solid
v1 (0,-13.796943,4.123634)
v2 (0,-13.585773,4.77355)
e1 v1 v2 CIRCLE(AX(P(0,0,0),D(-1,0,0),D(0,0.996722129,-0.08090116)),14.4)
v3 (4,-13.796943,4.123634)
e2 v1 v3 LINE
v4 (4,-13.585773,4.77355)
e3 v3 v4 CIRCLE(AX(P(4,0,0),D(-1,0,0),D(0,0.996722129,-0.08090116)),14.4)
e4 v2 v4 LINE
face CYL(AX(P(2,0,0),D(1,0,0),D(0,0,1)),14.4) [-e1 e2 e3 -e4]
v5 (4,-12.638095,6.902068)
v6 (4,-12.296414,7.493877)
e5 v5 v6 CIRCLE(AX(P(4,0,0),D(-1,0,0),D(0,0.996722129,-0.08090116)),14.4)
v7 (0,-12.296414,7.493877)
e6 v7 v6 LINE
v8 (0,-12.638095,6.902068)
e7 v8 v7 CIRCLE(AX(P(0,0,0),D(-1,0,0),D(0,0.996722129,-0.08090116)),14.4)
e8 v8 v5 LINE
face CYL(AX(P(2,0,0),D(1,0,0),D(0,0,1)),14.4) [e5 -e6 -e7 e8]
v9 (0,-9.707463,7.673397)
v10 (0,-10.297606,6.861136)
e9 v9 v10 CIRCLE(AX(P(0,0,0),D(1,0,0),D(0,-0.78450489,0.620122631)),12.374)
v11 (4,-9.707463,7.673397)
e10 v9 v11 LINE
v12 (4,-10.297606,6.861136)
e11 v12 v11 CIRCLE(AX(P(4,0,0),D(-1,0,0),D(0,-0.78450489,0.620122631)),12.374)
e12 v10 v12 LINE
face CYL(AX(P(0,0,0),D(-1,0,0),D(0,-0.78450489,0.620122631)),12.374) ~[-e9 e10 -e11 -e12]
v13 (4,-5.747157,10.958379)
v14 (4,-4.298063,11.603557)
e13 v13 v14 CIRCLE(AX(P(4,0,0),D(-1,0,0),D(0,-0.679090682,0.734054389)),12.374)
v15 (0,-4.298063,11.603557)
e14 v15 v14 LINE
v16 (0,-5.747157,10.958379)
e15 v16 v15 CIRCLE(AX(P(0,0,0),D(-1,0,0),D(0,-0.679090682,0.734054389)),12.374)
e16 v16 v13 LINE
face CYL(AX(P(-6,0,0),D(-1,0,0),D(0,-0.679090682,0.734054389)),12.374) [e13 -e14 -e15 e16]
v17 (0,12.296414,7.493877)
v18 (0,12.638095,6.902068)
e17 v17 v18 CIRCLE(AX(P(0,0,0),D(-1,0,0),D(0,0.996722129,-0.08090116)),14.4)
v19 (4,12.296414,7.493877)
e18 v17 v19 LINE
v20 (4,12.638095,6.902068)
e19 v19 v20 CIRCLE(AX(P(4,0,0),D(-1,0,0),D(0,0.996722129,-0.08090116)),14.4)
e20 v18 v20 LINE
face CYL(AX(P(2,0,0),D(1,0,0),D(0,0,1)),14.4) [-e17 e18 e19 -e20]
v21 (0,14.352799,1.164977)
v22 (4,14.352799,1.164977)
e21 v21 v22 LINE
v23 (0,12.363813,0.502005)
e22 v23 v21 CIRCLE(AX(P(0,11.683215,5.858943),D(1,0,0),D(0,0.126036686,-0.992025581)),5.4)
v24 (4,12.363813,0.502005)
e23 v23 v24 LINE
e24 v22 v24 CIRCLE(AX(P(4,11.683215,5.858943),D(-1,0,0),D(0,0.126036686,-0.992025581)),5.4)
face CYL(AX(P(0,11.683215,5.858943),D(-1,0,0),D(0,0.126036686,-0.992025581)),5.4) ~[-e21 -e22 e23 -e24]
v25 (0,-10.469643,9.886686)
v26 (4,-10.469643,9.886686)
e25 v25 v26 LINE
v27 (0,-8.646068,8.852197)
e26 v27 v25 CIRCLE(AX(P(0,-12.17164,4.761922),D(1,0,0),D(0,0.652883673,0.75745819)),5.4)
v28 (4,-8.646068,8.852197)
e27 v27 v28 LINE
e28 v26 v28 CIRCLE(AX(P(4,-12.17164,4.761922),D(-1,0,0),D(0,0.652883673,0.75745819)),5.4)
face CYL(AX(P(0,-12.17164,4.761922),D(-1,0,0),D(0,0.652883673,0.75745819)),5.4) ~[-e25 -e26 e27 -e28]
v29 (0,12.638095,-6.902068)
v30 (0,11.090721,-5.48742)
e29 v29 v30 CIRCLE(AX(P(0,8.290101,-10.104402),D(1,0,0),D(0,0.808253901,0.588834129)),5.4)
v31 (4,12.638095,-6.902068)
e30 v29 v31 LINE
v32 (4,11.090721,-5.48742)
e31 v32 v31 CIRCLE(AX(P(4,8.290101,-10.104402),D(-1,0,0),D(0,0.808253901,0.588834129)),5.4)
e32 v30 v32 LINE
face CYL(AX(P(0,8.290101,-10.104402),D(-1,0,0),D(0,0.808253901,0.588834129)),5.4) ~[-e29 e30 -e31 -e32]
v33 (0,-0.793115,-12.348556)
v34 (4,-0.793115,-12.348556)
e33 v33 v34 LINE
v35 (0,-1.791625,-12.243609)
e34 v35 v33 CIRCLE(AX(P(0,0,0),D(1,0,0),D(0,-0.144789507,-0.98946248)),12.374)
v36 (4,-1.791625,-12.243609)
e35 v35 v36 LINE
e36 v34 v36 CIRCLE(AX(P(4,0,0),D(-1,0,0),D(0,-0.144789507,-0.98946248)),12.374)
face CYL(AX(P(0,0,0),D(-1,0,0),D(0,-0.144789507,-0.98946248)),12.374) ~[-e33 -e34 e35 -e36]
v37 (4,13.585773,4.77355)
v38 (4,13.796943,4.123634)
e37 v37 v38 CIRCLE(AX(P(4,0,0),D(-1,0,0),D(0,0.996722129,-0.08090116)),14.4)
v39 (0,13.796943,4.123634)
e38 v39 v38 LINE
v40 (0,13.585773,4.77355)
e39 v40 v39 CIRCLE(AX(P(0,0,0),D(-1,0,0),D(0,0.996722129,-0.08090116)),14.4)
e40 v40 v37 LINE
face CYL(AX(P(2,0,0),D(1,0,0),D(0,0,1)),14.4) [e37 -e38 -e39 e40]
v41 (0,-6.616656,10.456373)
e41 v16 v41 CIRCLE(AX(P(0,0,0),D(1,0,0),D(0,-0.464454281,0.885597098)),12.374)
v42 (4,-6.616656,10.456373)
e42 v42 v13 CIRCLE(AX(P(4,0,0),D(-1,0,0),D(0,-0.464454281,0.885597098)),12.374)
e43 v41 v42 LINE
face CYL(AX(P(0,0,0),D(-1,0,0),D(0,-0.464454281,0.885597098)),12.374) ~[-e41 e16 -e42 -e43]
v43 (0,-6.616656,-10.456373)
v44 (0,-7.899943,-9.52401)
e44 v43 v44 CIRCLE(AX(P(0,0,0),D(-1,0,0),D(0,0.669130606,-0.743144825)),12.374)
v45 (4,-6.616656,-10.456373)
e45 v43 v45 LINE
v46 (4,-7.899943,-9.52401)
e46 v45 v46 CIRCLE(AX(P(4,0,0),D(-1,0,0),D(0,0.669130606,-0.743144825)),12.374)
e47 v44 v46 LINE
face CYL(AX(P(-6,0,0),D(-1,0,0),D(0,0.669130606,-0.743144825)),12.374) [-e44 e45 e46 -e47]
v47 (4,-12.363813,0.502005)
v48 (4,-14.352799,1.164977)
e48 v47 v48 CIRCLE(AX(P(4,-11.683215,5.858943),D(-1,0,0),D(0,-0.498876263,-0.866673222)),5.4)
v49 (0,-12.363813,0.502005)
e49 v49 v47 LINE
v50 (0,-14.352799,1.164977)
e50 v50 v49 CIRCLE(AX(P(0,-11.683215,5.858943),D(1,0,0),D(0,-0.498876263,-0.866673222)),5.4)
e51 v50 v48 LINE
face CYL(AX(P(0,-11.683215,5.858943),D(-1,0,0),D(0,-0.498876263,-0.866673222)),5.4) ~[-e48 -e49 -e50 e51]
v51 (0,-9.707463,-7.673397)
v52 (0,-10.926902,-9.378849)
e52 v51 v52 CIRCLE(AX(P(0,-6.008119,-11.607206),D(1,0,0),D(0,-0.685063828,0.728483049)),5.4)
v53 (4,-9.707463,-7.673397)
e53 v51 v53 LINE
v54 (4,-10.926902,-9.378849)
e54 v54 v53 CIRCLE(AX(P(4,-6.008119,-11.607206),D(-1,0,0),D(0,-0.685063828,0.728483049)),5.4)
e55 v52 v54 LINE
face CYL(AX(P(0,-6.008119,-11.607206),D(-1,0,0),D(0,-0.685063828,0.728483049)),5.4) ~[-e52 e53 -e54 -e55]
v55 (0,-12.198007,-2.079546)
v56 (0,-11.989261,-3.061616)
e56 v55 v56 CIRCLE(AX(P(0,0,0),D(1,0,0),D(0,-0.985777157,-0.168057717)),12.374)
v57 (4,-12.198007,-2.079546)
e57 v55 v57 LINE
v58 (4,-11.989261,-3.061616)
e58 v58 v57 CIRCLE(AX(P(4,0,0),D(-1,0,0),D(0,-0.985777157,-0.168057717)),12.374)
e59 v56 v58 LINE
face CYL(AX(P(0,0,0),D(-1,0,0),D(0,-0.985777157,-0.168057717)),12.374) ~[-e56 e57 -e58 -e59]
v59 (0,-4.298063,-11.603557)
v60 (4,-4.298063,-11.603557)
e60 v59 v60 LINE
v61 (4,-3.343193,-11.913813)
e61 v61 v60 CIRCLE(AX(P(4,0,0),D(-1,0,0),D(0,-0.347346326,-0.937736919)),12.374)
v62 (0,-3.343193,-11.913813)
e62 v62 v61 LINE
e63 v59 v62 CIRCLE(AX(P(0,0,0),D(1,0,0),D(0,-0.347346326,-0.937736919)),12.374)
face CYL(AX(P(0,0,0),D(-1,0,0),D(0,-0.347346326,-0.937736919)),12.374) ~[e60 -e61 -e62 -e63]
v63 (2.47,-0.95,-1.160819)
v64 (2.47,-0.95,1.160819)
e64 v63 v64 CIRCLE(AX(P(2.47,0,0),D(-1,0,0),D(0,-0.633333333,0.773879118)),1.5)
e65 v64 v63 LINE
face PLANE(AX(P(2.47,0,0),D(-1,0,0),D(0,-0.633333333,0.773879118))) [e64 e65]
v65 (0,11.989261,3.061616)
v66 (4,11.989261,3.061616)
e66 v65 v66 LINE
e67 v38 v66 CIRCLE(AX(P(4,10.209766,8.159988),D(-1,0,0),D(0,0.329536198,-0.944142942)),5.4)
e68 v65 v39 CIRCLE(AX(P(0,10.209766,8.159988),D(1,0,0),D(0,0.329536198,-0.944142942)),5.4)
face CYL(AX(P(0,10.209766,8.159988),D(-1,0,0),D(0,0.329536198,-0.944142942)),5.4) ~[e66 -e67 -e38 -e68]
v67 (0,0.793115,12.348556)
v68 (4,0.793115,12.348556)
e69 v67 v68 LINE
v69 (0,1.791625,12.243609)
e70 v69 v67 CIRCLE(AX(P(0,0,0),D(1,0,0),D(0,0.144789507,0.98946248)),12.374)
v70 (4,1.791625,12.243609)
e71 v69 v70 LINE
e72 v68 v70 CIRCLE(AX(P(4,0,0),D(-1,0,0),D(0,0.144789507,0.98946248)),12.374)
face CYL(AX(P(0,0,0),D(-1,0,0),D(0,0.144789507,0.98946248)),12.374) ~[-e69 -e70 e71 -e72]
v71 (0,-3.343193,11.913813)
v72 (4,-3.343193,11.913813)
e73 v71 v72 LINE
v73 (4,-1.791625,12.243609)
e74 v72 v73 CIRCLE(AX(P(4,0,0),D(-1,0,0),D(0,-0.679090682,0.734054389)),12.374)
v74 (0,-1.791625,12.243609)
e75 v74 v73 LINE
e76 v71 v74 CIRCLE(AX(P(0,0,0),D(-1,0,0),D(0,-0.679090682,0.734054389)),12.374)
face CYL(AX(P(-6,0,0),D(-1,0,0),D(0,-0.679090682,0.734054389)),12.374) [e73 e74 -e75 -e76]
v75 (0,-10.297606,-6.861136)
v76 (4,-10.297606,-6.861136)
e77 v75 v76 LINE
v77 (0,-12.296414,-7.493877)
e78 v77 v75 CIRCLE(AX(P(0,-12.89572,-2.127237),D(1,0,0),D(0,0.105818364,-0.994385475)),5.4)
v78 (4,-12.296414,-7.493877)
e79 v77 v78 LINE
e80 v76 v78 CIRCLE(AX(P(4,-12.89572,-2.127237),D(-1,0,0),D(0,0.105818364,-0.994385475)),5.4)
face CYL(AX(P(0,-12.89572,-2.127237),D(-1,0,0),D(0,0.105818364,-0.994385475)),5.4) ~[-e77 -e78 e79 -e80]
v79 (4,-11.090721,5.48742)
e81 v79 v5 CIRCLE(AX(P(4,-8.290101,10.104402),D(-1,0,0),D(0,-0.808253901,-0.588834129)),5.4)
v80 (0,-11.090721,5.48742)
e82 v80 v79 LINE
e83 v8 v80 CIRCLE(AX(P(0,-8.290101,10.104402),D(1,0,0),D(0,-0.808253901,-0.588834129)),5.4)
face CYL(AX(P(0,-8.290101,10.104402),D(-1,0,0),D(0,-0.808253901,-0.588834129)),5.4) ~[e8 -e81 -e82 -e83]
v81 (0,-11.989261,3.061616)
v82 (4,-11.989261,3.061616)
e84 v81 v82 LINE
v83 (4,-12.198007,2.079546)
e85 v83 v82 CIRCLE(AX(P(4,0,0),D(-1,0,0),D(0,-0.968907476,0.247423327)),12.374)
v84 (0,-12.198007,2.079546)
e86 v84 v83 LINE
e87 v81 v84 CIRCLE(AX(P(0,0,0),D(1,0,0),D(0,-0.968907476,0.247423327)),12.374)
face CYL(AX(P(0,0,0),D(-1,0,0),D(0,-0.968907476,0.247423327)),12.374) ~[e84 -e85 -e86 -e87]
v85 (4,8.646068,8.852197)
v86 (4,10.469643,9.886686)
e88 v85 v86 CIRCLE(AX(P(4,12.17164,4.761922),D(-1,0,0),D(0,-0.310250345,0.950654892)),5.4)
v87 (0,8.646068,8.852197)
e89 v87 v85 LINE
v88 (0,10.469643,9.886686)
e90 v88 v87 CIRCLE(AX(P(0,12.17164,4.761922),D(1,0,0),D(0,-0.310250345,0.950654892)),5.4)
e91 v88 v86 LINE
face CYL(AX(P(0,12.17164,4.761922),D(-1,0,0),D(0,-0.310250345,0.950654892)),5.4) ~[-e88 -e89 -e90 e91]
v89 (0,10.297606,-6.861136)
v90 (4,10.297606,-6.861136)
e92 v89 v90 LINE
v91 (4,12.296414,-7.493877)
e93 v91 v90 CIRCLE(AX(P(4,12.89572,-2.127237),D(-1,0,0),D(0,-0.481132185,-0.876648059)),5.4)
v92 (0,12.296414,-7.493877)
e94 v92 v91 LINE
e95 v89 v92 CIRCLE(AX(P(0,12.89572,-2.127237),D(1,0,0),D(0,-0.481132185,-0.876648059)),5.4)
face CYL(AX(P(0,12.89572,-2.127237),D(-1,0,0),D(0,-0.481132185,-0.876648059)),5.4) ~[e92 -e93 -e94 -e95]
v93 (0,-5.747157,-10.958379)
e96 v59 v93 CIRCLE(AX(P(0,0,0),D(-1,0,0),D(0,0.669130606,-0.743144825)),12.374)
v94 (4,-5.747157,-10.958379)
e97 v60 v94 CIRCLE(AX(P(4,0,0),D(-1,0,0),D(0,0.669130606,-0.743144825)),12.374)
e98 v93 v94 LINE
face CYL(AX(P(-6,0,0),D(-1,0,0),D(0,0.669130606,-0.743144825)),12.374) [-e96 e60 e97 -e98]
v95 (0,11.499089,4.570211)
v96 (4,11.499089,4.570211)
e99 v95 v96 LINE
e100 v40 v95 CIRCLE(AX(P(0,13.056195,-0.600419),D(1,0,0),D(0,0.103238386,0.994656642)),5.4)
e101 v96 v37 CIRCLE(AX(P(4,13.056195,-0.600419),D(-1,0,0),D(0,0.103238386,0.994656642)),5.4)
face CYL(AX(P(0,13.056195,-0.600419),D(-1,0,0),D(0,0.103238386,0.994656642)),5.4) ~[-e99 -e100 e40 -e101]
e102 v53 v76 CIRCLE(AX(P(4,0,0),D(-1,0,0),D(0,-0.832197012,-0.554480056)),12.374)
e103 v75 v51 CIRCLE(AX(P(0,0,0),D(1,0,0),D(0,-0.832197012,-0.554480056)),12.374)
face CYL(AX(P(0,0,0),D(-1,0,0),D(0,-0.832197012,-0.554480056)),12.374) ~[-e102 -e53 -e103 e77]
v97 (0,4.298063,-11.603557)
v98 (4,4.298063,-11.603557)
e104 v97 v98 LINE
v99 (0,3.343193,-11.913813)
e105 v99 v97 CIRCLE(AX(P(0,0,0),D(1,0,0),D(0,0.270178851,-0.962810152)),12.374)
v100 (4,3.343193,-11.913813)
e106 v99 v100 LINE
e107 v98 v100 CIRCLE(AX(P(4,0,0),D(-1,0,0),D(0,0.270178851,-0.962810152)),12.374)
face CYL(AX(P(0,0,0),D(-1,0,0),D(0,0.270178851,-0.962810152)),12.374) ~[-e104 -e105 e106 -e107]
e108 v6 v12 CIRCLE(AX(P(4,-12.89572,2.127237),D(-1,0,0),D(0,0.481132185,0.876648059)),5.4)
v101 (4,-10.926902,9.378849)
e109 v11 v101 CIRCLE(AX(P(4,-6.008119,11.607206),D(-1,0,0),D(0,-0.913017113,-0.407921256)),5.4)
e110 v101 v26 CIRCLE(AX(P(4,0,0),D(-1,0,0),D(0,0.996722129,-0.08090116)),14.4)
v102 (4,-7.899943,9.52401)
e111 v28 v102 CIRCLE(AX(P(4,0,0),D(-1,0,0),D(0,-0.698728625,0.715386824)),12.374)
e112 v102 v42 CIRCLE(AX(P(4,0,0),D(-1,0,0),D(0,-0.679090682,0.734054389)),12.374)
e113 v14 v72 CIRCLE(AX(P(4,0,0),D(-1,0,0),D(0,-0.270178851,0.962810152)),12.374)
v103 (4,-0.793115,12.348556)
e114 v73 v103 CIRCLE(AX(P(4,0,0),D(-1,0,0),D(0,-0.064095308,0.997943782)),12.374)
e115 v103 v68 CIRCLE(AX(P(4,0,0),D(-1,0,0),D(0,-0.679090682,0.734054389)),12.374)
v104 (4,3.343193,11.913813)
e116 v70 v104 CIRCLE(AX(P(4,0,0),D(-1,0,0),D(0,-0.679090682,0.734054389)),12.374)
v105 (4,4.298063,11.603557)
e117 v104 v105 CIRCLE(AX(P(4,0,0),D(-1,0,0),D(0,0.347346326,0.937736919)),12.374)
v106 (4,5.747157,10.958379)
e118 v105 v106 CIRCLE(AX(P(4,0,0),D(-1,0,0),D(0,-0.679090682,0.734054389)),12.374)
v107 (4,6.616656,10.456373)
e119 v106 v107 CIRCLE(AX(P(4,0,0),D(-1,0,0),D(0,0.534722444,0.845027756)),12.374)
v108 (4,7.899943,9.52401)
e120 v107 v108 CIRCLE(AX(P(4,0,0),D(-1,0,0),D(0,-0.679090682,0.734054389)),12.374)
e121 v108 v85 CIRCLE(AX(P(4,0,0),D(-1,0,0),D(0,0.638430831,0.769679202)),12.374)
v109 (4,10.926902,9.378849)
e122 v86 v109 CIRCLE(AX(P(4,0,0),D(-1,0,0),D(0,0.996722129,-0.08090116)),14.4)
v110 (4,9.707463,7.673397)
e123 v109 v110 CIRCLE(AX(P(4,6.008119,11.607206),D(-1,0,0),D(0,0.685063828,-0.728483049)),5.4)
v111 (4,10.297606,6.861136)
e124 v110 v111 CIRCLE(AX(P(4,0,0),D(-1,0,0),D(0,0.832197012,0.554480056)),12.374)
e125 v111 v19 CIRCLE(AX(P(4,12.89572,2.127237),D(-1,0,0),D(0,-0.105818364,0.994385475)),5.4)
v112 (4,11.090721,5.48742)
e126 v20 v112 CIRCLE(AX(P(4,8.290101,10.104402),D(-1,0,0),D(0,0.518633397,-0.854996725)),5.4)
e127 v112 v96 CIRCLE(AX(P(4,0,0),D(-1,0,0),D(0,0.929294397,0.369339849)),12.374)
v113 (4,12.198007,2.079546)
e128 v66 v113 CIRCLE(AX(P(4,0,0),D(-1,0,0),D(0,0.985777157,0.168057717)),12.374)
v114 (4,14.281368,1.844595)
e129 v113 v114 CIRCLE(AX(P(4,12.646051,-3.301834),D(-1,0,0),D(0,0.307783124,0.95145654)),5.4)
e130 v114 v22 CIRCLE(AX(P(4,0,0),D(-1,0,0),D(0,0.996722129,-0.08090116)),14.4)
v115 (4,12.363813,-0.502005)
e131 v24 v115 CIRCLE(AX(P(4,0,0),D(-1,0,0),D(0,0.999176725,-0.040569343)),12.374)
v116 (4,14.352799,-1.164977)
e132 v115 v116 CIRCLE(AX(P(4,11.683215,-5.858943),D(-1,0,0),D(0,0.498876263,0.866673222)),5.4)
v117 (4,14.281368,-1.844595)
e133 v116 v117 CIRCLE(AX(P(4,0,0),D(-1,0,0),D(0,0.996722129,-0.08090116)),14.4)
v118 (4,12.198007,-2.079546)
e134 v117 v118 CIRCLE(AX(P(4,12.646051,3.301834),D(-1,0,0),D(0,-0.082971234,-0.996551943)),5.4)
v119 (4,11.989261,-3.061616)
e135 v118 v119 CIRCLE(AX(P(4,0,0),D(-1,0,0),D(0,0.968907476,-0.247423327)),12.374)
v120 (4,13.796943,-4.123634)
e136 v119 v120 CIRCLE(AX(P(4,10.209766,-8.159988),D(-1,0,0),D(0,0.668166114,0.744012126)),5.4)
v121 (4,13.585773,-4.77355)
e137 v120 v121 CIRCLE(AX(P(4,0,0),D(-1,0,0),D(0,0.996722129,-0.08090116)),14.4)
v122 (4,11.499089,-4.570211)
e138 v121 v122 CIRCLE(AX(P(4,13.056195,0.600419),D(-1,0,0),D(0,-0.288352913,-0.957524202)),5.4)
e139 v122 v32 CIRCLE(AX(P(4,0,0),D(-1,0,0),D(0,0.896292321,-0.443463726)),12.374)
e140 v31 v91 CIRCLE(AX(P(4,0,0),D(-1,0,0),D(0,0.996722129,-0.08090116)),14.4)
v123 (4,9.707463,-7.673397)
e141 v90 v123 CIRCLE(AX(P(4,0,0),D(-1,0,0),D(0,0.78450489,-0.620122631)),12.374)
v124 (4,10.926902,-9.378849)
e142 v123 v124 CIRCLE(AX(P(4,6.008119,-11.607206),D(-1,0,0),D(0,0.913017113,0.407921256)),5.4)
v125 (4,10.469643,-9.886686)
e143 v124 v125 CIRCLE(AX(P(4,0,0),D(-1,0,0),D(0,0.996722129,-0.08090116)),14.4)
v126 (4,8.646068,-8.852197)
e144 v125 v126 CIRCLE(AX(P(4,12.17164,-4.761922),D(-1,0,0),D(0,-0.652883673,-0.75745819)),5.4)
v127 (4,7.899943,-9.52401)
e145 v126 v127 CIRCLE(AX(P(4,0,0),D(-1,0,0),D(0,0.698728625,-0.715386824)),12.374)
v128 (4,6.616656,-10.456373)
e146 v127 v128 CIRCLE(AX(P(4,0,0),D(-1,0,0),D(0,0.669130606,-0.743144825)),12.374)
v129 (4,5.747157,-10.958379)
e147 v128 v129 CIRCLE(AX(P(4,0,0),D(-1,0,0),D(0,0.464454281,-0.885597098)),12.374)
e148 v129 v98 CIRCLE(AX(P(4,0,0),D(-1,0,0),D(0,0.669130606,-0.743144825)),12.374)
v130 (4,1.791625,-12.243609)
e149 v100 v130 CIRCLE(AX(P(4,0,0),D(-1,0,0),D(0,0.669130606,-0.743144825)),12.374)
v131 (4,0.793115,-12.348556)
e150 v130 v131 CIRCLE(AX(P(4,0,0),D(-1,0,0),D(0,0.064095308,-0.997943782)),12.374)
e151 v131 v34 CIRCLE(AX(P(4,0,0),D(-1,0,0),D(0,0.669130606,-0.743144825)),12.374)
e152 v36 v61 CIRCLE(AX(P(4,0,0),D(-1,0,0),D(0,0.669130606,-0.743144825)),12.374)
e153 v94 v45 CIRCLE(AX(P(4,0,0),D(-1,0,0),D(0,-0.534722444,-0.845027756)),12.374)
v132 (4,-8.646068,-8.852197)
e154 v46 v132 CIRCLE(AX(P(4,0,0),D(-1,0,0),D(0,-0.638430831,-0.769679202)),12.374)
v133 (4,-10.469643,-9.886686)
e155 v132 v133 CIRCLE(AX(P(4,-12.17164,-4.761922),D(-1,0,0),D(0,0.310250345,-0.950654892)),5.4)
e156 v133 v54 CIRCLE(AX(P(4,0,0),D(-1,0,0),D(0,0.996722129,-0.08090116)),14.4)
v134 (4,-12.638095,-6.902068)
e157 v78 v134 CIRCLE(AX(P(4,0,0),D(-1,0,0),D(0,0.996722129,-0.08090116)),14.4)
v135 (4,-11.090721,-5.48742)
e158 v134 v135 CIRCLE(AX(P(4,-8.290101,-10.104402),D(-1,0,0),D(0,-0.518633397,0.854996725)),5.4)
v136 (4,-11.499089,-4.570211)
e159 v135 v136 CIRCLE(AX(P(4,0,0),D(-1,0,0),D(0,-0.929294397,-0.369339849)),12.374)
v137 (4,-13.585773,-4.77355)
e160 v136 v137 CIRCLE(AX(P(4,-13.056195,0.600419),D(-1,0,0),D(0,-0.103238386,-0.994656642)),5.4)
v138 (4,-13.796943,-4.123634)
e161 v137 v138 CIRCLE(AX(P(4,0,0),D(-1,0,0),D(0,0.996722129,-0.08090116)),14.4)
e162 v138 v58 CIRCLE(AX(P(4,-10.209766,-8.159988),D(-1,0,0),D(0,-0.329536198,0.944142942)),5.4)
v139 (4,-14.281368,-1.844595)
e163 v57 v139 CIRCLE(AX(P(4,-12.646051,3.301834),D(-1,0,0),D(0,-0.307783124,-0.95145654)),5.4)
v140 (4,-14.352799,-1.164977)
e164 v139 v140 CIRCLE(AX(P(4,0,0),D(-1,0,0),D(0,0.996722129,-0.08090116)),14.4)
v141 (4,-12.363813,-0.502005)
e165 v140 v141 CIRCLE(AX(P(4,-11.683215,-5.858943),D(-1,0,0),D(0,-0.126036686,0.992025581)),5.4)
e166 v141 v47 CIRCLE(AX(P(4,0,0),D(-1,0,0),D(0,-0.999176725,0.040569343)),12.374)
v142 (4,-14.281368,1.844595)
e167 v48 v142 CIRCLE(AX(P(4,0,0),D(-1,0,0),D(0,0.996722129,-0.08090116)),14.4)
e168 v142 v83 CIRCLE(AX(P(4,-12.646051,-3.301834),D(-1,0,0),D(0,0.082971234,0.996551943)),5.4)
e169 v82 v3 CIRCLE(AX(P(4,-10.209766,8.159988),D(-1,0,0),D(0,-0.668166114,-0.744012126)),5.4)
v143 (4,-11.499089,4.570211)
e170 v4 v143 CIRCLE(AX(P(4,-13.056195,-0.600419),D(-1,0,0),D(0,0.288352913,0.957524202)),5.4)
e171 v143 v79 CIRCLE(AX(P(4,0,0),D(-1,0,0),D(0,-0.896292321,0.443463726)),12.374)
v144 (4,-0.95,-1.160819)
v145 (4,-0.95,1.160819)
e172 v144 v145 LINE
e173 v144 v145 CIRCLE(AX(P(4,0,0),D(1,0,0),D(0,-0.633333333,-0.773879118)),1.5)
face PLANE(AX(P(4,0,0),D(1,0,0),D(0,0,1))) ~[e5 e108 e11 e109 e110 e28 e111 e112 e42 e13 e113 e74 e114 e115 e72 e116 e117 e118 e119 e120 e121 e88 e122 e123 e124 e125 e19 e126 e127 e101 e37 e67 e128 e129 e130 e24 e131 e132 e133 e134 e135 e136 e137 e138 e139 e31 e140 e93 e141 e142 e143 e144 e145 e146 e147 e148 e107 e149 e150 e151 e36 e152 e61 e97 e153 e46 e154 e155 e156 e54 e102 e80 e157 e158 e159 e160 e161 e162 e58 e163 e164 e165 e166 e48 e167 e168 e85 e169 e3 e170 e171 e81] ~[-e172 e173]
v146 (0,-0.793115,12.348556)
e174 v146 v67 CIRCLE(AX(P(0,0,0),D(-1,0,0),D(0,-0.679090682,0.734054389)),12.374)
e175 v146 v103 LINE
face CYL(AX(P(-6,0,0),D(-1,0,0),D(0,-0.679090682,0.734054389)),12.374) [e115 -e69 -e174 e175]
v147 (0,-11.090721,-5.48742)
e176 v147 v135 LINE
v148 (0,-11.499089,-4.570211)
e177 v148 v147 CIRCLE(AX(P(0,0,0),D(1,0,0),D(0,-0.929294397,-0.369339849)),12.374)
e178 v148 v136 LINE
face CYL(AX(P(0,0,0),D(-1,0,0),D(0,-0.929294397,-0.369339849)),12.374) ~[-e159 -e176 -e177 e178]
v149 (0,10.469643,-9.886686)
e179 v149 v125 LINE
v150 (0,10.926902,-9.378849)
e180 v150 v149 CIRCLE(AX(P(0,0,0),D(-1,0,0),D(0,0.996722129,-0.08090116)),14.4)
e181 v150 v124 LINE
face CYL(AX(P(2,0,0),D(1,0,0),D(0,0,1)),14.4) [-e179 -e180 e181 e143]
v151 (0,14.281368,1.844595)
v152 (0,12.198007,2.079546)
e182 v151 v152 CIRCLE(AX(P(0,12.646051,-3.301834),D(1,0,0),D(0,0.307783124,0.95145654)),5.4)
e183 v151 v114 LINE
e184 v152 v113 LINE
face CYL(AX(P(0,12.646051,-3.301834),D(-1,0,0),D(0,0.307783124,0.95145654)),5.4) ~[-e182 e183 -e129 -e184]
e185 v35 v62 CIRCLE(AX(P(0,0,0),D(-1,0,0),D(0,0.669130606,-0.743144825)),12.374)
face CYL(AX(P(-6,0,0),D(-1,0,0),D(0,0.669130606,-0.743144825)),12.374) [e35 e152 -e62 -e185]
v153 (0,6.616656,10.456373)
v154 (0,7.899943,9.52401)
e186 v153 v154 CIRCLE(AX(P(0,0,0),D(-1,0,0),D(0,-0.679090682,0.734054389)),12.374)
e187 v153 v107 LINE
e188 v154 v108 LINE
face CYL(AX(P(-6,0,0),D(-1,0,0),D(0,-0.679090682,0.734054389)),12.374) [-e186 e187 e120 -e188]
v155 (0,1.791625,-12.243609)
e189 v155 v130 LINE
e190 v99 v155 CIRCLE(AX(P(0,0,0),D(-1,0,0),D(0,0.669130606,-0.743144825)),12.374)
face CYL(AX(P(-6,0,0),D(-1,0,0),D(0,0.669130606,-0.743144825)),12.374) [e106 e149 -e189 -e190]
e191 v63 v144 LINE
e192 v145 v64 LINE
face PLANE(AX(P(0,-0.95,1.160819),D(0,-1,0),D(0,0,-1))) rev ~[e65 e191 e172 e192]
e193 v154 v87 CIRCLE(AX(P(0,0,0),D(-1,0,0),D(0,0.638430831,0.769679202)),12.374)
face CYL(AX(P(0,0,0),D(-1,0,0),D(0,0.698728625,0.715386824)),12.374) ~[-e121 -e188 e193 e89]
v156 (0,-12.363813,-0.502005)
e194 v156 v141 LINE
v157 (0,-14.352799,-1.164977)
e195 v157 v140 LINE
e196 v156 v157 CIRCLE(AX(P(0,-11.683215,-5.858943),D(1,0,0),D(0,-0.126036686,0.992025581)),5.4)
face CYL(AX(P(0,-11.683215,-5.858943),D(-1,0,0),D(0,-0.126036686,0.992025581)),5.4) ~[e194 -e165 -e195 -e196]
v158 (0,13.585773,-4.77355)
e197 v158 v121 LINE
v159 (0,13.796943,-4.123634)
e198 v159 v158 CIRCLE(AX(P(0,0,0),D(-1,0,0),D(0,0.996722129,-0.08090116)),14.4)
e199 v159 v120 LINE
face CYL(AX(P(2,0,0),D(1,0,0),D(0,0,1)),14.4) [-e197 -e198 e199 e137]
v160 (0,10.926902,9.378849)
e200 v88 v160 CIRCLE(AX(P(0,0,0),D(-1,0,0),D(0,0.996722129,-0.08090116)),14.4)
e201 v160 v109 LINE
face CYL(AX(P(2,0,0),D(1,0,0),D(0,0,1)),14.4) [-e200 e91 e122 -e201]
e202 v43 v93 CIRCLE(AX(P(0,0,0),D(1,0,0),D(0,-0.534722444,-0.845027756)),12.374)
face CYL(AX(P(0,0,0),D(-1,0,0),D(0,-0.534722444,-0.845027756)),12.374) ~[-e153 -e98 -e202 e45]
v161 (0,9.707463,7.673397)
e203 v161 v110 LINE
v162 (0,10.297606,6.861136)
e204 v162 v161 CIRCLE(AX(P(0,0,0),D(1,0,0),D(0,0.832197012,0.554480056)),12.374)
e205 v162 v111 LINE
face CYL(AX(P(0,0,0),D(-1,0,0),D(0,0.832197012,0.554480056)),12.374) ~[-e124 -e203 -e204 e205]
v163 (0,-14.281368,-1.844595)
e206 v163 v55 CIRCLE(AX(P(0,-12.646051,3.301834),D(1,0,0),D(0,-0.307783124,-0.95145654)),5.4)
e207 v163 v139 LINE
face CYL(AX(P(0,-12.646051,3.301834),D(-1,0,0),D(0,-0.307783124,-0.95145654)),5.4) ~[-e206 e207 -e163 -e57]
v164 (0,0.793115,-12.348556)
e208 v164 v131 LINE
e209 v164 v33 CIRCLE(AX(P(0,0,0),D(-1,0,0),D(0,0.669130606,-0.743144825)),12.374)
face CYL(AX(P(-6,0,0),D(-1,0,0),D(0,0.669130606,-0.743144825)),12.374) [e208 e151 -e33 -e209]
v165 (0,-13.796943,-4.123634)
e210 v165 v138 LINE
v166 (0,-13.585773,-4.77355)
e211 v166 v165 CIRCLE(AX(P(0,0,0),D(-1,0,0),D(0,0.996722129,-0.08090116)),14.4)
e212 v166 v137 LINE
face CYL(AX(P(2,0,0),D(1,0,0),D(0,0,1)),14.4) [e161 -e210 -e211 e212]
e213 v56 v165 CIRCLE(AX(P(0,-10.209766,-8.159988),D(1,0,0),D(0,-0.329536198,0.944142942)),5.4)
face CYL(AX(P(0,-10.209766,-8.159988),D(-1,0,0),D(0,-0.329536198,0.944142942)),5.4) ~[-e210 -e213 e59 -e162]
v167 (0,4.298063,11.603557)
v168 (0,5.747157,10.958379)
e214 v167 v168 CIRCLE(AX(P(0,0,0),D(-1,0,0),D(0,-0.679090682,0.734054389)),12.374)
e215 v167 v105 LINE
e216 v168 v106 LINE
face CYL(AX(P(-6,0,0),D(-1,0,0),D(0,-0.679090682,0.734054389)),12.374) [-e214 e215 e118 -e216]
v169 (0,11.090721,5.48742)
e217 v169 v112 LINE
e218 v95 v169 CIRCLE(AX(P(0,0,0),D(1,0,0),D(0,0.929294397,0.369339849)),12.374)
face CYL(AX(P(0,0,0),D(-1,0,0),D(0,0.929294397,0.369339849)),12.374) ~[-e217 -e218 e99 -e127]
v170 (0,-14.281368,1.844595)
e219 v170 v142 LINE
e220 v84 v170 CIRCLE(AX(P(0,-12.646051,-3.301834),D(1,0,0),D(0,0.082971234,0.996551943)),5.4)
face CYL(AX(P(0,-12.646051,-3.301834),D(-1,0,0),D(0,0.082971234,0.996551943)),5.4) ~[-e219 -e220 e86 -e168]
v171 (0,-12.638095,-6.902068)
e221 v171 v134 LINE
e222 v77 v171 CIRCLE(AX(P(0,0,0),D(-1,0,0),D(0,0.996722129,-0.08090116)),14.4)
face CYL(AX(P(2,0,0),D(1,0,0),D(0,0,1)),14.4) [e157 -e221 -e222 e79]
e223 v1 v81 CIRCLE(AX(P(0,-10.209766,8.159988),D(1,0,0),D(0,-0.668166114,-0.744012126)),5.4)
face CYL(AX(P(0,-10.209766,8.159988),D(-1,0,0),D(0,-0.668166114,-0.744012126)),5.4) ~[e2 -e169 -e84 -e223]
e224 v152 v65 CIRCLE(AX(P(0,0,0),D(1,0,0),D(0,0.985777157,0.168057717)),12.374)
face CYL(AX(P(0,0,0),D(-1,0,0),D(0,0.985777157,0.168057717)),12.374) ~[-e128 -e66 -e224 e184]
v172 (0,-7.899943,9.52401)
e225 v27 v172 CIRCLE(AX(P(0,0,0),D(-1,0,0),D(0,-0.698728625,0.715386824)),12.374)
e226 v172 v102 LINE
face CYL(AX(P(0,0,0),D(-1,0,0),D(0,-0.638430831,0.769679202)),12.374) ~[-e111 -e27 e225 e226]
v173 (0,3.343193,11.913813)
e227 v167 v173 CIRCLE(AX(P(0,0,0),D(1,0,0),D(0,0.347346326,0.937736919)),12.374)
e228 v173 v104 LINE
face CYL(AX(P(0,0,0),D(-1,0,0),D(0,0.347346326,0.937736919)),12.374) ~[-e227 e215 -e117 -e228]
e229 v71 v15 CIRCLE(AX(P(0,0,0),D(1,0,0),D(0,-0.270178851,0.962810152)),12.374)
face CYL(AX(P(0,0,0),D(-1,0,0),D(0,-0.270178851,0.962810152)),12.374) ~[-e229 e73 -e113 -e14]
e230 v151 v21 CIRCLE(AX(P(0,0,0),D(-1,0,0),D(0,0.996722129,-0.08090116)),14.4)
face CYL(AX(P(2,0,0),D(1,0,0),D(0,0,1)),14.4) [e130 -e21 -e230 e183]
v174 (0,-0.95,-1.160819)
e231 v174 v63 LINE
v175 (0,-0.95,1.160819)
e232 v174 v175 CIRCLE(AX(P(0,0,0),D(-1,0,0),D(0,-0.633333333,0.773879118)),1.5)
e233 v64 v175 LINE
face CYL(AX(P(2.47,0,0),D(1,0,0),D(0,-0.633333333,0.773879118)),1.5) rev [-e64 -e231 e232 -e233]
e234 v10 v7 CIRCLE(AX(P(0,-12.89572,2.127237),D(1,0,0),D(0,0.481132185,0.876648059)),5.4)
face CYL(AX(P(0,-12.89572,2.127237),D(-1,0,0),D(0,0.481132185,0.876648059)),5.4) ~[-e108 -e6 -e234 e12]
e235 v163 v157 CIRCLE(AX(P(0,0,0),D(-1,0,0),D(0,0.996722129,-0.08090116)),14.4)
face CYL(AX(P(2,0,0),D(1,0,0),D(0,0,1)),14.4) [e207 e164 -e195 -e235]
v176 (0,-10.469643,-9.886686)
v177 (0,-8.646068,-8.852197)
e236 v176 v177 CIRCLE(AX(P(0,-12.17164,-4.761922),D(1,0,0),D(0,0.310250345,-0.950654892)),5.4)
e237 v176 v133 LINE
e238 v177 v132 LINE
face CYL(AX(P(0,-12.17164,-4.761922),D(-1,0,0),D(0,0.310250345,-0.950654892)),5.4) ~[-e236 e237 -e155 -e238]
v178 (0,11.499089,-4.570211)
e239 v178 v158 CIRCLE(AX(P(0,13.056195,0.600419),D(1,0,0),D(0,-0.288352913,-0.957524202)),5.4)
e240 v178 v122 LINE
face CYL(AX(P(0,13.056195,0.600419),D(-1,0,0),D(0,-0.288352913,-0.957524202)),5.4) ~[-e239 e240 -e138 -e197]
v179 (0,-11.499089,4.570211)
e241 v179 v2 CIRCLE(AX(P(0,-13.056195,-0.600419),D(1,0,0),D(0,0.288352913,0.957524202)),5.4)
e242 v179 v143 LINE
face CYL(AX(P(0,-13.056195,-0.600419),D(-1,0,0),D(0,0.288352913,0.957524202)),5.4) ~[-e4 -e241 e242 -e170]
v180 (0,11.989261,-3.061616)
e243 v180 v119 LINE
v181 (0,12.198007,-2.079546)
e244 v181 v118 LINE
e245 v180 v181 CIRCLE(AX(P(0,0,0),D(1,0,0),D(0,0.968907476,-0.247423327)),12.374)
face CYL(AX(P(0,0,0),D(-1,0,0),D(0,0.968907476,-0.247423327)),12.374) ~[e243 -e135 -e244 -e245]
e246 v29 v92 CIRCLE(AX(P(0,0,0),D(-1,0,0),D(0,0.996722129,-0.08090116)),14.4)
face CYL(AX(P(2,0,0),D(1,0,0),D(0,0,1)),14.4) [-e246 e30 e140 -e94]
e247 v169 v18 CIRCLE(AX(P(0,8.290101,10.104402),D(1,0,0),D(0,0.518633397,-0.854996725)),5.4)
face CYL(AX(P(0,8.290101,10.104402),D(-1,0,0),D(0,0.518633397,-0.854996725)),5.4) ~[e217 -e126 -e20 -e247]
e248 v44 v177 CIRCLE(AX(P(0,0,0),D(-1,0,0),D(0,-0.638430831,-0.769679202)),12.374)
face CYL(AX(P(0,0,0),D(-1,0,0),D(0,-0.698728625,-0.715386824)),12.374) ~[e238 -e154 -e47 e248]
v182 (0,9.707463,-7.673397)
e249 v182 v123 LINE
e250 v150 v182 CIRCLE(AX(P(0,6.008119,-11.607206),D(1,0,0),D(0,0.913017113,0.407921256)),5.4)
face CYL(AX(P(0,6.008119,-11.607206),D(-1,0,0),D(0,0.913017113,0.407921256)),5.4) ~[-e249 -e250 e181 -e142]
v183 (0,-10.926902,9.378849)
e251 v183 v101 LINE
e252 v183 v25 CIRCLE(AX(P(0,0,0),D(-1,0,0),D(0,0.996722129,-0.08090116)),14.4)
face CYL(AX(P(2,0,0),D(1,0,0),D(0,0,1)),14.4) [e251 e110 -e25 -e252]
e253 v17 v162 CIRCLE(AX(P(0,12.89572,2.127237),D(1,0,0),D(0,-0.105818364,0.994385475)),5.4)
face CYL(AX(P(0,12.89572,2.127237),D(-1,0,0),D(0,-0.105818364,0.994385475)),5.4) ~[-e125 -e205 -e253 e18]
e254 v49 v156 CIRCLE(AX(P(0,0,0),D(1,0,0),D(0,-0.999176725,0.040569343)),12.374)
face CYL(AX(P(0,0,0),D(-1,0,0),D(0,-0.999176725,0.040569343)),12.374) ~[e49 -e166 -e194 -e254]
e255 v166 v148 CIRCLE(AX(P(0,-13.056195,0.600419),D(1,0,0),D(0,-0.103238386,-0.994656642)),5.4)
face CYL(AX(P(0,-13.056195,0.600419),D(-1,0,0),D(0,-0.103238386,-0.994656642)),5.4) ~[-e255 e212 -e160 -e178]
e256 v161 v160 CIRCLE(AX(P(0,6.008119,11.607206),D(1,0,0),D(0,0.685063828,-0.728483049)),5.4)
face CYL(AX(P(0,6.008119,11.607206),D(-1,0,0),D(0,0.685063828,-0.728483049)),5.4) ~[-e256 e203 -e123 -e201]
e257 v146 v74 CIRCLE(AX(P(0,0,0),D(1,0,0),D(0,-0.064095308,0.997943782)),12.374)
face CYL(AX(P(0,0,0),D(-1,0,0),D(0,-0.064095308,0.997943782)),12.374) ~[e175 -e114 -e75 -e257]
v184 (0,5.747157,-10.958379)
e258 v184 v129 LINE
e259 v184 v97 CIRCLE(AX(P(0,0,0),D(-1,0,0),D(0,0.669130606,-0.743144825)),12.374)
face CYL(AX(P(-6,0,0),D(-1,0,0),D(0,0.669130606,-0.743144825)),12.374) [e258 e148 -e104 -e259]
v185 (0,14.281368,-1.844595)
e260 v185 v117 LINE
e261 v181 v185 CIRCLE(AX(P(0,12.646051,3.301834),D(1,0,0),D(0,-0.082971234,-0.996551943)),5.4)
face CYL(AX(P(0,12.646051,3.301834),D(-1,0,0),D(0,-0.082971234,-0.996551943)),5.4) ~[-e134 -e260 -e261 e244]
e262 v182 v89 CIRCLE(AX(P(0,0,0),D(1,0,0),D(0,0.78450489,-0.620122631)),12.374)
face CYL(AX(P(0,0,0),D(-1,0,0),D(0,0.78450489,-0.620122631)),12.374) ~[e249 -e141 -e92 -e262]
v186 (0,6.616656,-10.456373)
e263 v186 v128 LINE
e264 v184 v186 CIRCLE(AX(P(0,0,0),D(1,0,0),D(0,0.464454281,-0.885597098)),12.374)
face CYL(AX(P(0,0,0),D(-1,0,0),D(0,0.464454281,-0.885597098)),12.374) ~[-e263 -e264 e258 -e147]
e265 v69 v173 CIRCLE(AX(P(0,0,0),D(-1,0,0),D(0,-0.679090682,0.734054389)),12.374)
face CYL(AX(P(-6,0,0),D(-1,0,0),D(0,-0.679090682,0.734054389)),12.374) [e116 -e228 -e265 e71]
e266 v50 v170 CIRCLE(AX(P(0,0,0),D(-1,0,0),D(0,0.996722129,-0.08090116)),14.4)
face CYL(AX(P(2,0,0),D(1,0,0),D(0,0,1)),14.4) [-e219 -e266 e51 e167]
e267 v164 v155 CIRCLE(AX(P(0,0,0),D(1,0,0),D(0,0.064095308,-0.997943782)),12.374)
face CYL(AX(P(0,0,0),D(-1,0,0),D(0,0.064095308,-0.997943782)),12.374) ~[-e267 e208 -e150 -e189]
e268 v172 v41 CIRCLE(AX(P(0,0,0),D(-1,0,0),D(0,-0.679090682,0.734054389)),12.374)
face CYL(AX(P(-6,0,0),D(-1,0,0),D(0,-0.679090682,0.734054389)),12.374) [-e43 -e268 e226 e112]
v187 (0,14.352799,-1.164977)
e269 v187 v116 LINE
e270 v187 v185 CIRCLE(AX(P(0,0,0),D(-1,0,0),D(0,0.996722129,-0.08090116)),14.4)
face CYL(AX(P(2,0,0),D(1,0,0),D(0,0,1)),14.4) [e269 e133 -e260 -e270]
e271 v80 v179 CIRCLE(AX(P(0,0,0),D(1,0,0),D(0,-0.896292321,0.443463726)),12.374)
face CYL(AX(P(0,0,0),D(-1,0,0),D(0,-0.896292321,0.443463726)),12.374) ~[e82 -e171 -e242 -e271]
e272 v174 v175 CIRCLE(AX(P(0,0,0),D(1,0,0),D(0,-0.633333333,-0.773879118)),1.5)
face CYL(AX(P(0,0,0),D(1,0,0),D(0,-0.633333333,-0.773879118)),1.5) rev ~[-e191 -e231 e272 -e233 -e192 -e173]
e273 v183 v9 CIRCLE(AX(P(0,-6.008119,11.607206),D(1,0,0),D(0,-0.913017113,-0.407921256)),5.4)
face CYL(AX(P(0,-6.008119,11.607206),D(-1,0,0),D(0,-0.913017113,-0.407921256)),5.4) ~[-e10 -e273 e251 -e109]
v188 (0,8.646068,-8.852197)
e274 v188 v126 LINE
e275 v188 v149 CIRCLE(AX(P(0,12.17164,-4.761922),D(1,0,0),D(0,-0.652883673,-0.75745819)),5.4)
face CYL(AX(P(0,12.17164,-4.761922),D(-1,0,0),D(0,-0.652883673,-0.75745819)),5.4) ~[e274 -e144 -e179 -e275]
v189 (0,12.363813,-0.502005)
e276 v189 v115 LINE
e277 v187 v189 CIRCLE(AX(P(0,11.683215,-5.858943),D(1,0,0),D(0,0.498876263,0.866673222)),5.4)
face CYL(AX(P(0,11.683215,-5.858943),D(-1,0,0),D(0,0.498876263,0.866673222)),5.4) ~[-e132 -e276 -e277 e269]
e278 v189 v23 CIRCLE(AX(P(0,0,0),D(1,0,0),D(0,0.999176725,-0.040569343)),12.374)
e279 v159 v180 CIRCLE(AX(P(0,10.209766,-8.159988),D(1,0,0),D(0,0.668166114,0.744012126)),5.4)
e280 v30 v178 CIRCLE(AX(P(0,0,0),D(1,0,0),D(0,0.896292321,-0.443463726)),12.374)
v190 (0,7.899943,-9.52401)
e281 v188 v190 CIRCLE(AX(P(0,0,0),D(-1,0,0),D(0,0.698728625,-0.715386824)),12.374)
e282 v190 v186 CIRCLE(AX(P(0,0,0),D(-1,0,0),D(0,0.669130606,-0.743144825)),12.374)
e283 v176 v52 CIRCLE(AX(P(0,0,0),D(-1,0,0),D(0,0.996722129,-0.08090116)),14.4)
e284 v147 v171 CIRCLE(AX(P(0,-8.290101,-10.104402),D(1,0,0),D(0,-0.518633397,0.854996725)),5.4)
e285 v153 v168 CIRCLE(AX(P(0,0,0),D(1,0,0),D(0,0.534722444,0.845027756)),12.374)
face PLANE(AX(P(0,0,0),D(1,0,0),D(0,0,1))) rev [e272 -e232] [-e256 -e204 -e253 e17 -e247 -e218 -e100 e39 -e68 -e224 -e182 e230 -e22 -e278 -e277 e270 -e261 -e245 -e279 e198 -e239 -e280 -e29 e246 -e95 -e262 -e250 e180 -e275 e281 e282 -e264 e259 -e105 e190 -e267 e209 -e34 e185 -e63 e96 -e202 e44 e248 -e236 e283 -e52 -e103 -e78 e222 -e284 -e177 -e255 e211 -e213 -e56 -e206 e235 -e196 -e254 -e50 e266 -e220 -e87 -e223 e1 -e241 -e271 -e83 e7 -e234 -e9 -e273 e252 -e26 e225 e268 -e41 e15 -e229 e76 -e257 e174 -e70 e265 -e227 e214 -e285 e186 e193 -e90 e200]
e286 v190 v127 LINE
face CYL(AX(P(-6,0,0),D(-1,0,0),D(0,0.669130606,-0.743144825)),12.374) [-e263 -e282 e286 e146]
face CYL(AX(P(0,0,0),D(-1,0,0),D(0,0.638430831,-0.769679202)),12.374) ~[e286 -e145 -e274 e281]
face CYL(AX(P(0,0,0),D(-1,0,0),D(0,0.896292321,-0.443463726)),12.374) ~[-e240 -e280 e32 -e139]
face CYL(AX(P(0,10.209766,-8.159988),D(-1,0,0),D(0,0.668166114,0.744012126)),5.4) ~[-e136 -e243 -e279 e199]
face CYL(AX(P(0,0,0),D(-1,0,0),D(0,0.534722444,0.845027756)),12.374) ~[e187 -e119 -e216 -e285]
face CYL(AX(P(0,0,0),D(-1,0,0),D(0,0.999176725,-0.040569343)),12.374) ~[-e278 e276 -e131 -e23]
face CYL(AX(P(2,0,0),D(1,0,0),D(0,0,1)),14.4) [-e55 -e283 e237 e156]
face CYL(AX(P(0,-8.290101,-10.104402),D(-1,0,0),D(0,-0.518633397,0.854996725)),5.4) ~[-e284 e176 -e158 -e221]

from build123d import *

# Parameters (mm, degrees)
BASPROSKE_W        = 4
BASPROSKE_H        = 14.4
TOOTHCUT_DEPTH     = 21.753794834
TEETHCUTS_COUNT    = 30
TEETHCUTS_ANGLE    = 348
BORE_DEPTH         = 50.0000508
CUT_EXTRUDE2_START = -10
CUT_EXTRUDE2_DEPTH = 10
CUT_EXTRUDE3_START = -2.47
SKETCH3_R          = 1.5
CUT_EXTRUDE3_DEPTH = 2.47


with BuildPart() as part:
    # BasProSke → Base-Revolve (revolve)
    with BuildSketch(Plane(origin=(0, 0, 0), x_dir=(1, 0, 0), z_dir=(0, 1, 0)), mode=Mode.PRIVATE) as base_revolve_sk:
        with Locations((2, 7.2)):
            Rectangle(BASPROSKE_W, BASPROSKE_H)
    revolve(base_revolve_sk.sketch.rotate(Axis((-10, 0, 0), (1, 0, 0)), 180), axis=Axis((-10, 0, 0), (1, 0, 0)))

    # TooCutSke → ToothCut (cut, through all)
    with BuildSketch(Plane(origin=(0, 0, 0), x_dir=(0, 0, -1), z_dir=(1, 0, 0))):
        with BuildLine():
            ThreePointArc((0.502005058, 12.363812799), (0, 12.374), (-0.502005058, 12.363812799))
            ThreePointArc((-0.502005058, 12.363812799), (-0.740487606, 13.404090158), (-1.178907792, 14.377146503))
            ThreePointArc((-1.178907792, 14.377146503), (0, 14.4254), (1.178907792, 14.377146503))
            ThreePointArc((1.178907792, 14.377146503), (0.740487606, 13.404090158), (0.502005058, 12.363812799))
        make_face()
    toothcut = extrude(amount=TOOTHCUT_DEPTH, mode=Mode.SUBTRACT)

    # TeethCuts: ToothCut ×30 about axis
    teethcuts_axis = Axis((-10, 0, 0), (1, 0, 0))
    for i in range(1, TEETHCUTS_COUNT):
        add(toothcut.rotate(teethcuts_axis, i * TEETHCUTS_ANGLE / (TEETHCUTS_COUNT - 1)), mode=Mode.SUBTRACT)

    # BorSke → Bore (cut, symmetric)
    with BuildSketch(Plane(origin=(0, 0, 0), x_dir=(0, 0, -1), z_dir=(1, 0, 0))):
        with BuildLine():
            Line((-1.160818677, -0.95), (1.160818677, -0.95))
            ThreePointArc((1.160818677, -0.95), (0, 1.5), (-1.160818677, -0.95))
        make_face()
    extrude(amount=BORE_DEPTH, both=True, mode=Mode.SUBTRACT)

    # Sketch1 → Cut-Extrude2 (cut)
    with BuildSketch(Plane(origin=(4, 0, 0), x_dir=(0, 0, -1), z_dir=(1, 0, 0)).offset(CUT_EXTRUDE2_START)):
        with BuildLine():
            Line((-9.19567407, 8.279822123), (-11.837430087, 9.990379384))
            ThreePointArc((-11.837430087, 9.990379384), (-15.480248321, -0.542534064), (-11.108982601, -10.79457905))
            Line((-11.108982601, -10.79457905), (-9.083189008, -8.403068097))
            ThreePointArc((-9.083189008, -8.403068097), (-12.373718737, -0.083430299), (-9.19567407, 8.279822123))
        make_face()
        with BuildLine():
            Line((9.083189008, -8.403068097), (11.108982601, -10.79457905))
            ThreePointArc((11.108982601, -10.79457905), (15.480248321, -0.542534064), (11.837430087, 9.990379384))
            Line((11.837430087, 9.990379384), (9.19567407, 8.279822123))
            ThreePointArc((9.19567407, 8.279822123), (12.373718737, -0.083430299), (9.083189008, -8.403068097))
        make_face()
    extrude(amount=CUT_EXTRUDE2_DEPTH, mode=Mode.SUBTRACT)

    # Sketch3 → Cut-Extrude3 (cut)
    with BuildSketch(Plane.ZY.offset(CUT_EXTRUDE3_START)):
        with Locations(Location((0, 0, 0), (0, 0, 320.703519761))):
            Circle(SKETCH3_R)
    extrude(amount=CUT_EXTRUDE3_DEPTH, mode=Mode.SUBTRACT)


solid = part.part
